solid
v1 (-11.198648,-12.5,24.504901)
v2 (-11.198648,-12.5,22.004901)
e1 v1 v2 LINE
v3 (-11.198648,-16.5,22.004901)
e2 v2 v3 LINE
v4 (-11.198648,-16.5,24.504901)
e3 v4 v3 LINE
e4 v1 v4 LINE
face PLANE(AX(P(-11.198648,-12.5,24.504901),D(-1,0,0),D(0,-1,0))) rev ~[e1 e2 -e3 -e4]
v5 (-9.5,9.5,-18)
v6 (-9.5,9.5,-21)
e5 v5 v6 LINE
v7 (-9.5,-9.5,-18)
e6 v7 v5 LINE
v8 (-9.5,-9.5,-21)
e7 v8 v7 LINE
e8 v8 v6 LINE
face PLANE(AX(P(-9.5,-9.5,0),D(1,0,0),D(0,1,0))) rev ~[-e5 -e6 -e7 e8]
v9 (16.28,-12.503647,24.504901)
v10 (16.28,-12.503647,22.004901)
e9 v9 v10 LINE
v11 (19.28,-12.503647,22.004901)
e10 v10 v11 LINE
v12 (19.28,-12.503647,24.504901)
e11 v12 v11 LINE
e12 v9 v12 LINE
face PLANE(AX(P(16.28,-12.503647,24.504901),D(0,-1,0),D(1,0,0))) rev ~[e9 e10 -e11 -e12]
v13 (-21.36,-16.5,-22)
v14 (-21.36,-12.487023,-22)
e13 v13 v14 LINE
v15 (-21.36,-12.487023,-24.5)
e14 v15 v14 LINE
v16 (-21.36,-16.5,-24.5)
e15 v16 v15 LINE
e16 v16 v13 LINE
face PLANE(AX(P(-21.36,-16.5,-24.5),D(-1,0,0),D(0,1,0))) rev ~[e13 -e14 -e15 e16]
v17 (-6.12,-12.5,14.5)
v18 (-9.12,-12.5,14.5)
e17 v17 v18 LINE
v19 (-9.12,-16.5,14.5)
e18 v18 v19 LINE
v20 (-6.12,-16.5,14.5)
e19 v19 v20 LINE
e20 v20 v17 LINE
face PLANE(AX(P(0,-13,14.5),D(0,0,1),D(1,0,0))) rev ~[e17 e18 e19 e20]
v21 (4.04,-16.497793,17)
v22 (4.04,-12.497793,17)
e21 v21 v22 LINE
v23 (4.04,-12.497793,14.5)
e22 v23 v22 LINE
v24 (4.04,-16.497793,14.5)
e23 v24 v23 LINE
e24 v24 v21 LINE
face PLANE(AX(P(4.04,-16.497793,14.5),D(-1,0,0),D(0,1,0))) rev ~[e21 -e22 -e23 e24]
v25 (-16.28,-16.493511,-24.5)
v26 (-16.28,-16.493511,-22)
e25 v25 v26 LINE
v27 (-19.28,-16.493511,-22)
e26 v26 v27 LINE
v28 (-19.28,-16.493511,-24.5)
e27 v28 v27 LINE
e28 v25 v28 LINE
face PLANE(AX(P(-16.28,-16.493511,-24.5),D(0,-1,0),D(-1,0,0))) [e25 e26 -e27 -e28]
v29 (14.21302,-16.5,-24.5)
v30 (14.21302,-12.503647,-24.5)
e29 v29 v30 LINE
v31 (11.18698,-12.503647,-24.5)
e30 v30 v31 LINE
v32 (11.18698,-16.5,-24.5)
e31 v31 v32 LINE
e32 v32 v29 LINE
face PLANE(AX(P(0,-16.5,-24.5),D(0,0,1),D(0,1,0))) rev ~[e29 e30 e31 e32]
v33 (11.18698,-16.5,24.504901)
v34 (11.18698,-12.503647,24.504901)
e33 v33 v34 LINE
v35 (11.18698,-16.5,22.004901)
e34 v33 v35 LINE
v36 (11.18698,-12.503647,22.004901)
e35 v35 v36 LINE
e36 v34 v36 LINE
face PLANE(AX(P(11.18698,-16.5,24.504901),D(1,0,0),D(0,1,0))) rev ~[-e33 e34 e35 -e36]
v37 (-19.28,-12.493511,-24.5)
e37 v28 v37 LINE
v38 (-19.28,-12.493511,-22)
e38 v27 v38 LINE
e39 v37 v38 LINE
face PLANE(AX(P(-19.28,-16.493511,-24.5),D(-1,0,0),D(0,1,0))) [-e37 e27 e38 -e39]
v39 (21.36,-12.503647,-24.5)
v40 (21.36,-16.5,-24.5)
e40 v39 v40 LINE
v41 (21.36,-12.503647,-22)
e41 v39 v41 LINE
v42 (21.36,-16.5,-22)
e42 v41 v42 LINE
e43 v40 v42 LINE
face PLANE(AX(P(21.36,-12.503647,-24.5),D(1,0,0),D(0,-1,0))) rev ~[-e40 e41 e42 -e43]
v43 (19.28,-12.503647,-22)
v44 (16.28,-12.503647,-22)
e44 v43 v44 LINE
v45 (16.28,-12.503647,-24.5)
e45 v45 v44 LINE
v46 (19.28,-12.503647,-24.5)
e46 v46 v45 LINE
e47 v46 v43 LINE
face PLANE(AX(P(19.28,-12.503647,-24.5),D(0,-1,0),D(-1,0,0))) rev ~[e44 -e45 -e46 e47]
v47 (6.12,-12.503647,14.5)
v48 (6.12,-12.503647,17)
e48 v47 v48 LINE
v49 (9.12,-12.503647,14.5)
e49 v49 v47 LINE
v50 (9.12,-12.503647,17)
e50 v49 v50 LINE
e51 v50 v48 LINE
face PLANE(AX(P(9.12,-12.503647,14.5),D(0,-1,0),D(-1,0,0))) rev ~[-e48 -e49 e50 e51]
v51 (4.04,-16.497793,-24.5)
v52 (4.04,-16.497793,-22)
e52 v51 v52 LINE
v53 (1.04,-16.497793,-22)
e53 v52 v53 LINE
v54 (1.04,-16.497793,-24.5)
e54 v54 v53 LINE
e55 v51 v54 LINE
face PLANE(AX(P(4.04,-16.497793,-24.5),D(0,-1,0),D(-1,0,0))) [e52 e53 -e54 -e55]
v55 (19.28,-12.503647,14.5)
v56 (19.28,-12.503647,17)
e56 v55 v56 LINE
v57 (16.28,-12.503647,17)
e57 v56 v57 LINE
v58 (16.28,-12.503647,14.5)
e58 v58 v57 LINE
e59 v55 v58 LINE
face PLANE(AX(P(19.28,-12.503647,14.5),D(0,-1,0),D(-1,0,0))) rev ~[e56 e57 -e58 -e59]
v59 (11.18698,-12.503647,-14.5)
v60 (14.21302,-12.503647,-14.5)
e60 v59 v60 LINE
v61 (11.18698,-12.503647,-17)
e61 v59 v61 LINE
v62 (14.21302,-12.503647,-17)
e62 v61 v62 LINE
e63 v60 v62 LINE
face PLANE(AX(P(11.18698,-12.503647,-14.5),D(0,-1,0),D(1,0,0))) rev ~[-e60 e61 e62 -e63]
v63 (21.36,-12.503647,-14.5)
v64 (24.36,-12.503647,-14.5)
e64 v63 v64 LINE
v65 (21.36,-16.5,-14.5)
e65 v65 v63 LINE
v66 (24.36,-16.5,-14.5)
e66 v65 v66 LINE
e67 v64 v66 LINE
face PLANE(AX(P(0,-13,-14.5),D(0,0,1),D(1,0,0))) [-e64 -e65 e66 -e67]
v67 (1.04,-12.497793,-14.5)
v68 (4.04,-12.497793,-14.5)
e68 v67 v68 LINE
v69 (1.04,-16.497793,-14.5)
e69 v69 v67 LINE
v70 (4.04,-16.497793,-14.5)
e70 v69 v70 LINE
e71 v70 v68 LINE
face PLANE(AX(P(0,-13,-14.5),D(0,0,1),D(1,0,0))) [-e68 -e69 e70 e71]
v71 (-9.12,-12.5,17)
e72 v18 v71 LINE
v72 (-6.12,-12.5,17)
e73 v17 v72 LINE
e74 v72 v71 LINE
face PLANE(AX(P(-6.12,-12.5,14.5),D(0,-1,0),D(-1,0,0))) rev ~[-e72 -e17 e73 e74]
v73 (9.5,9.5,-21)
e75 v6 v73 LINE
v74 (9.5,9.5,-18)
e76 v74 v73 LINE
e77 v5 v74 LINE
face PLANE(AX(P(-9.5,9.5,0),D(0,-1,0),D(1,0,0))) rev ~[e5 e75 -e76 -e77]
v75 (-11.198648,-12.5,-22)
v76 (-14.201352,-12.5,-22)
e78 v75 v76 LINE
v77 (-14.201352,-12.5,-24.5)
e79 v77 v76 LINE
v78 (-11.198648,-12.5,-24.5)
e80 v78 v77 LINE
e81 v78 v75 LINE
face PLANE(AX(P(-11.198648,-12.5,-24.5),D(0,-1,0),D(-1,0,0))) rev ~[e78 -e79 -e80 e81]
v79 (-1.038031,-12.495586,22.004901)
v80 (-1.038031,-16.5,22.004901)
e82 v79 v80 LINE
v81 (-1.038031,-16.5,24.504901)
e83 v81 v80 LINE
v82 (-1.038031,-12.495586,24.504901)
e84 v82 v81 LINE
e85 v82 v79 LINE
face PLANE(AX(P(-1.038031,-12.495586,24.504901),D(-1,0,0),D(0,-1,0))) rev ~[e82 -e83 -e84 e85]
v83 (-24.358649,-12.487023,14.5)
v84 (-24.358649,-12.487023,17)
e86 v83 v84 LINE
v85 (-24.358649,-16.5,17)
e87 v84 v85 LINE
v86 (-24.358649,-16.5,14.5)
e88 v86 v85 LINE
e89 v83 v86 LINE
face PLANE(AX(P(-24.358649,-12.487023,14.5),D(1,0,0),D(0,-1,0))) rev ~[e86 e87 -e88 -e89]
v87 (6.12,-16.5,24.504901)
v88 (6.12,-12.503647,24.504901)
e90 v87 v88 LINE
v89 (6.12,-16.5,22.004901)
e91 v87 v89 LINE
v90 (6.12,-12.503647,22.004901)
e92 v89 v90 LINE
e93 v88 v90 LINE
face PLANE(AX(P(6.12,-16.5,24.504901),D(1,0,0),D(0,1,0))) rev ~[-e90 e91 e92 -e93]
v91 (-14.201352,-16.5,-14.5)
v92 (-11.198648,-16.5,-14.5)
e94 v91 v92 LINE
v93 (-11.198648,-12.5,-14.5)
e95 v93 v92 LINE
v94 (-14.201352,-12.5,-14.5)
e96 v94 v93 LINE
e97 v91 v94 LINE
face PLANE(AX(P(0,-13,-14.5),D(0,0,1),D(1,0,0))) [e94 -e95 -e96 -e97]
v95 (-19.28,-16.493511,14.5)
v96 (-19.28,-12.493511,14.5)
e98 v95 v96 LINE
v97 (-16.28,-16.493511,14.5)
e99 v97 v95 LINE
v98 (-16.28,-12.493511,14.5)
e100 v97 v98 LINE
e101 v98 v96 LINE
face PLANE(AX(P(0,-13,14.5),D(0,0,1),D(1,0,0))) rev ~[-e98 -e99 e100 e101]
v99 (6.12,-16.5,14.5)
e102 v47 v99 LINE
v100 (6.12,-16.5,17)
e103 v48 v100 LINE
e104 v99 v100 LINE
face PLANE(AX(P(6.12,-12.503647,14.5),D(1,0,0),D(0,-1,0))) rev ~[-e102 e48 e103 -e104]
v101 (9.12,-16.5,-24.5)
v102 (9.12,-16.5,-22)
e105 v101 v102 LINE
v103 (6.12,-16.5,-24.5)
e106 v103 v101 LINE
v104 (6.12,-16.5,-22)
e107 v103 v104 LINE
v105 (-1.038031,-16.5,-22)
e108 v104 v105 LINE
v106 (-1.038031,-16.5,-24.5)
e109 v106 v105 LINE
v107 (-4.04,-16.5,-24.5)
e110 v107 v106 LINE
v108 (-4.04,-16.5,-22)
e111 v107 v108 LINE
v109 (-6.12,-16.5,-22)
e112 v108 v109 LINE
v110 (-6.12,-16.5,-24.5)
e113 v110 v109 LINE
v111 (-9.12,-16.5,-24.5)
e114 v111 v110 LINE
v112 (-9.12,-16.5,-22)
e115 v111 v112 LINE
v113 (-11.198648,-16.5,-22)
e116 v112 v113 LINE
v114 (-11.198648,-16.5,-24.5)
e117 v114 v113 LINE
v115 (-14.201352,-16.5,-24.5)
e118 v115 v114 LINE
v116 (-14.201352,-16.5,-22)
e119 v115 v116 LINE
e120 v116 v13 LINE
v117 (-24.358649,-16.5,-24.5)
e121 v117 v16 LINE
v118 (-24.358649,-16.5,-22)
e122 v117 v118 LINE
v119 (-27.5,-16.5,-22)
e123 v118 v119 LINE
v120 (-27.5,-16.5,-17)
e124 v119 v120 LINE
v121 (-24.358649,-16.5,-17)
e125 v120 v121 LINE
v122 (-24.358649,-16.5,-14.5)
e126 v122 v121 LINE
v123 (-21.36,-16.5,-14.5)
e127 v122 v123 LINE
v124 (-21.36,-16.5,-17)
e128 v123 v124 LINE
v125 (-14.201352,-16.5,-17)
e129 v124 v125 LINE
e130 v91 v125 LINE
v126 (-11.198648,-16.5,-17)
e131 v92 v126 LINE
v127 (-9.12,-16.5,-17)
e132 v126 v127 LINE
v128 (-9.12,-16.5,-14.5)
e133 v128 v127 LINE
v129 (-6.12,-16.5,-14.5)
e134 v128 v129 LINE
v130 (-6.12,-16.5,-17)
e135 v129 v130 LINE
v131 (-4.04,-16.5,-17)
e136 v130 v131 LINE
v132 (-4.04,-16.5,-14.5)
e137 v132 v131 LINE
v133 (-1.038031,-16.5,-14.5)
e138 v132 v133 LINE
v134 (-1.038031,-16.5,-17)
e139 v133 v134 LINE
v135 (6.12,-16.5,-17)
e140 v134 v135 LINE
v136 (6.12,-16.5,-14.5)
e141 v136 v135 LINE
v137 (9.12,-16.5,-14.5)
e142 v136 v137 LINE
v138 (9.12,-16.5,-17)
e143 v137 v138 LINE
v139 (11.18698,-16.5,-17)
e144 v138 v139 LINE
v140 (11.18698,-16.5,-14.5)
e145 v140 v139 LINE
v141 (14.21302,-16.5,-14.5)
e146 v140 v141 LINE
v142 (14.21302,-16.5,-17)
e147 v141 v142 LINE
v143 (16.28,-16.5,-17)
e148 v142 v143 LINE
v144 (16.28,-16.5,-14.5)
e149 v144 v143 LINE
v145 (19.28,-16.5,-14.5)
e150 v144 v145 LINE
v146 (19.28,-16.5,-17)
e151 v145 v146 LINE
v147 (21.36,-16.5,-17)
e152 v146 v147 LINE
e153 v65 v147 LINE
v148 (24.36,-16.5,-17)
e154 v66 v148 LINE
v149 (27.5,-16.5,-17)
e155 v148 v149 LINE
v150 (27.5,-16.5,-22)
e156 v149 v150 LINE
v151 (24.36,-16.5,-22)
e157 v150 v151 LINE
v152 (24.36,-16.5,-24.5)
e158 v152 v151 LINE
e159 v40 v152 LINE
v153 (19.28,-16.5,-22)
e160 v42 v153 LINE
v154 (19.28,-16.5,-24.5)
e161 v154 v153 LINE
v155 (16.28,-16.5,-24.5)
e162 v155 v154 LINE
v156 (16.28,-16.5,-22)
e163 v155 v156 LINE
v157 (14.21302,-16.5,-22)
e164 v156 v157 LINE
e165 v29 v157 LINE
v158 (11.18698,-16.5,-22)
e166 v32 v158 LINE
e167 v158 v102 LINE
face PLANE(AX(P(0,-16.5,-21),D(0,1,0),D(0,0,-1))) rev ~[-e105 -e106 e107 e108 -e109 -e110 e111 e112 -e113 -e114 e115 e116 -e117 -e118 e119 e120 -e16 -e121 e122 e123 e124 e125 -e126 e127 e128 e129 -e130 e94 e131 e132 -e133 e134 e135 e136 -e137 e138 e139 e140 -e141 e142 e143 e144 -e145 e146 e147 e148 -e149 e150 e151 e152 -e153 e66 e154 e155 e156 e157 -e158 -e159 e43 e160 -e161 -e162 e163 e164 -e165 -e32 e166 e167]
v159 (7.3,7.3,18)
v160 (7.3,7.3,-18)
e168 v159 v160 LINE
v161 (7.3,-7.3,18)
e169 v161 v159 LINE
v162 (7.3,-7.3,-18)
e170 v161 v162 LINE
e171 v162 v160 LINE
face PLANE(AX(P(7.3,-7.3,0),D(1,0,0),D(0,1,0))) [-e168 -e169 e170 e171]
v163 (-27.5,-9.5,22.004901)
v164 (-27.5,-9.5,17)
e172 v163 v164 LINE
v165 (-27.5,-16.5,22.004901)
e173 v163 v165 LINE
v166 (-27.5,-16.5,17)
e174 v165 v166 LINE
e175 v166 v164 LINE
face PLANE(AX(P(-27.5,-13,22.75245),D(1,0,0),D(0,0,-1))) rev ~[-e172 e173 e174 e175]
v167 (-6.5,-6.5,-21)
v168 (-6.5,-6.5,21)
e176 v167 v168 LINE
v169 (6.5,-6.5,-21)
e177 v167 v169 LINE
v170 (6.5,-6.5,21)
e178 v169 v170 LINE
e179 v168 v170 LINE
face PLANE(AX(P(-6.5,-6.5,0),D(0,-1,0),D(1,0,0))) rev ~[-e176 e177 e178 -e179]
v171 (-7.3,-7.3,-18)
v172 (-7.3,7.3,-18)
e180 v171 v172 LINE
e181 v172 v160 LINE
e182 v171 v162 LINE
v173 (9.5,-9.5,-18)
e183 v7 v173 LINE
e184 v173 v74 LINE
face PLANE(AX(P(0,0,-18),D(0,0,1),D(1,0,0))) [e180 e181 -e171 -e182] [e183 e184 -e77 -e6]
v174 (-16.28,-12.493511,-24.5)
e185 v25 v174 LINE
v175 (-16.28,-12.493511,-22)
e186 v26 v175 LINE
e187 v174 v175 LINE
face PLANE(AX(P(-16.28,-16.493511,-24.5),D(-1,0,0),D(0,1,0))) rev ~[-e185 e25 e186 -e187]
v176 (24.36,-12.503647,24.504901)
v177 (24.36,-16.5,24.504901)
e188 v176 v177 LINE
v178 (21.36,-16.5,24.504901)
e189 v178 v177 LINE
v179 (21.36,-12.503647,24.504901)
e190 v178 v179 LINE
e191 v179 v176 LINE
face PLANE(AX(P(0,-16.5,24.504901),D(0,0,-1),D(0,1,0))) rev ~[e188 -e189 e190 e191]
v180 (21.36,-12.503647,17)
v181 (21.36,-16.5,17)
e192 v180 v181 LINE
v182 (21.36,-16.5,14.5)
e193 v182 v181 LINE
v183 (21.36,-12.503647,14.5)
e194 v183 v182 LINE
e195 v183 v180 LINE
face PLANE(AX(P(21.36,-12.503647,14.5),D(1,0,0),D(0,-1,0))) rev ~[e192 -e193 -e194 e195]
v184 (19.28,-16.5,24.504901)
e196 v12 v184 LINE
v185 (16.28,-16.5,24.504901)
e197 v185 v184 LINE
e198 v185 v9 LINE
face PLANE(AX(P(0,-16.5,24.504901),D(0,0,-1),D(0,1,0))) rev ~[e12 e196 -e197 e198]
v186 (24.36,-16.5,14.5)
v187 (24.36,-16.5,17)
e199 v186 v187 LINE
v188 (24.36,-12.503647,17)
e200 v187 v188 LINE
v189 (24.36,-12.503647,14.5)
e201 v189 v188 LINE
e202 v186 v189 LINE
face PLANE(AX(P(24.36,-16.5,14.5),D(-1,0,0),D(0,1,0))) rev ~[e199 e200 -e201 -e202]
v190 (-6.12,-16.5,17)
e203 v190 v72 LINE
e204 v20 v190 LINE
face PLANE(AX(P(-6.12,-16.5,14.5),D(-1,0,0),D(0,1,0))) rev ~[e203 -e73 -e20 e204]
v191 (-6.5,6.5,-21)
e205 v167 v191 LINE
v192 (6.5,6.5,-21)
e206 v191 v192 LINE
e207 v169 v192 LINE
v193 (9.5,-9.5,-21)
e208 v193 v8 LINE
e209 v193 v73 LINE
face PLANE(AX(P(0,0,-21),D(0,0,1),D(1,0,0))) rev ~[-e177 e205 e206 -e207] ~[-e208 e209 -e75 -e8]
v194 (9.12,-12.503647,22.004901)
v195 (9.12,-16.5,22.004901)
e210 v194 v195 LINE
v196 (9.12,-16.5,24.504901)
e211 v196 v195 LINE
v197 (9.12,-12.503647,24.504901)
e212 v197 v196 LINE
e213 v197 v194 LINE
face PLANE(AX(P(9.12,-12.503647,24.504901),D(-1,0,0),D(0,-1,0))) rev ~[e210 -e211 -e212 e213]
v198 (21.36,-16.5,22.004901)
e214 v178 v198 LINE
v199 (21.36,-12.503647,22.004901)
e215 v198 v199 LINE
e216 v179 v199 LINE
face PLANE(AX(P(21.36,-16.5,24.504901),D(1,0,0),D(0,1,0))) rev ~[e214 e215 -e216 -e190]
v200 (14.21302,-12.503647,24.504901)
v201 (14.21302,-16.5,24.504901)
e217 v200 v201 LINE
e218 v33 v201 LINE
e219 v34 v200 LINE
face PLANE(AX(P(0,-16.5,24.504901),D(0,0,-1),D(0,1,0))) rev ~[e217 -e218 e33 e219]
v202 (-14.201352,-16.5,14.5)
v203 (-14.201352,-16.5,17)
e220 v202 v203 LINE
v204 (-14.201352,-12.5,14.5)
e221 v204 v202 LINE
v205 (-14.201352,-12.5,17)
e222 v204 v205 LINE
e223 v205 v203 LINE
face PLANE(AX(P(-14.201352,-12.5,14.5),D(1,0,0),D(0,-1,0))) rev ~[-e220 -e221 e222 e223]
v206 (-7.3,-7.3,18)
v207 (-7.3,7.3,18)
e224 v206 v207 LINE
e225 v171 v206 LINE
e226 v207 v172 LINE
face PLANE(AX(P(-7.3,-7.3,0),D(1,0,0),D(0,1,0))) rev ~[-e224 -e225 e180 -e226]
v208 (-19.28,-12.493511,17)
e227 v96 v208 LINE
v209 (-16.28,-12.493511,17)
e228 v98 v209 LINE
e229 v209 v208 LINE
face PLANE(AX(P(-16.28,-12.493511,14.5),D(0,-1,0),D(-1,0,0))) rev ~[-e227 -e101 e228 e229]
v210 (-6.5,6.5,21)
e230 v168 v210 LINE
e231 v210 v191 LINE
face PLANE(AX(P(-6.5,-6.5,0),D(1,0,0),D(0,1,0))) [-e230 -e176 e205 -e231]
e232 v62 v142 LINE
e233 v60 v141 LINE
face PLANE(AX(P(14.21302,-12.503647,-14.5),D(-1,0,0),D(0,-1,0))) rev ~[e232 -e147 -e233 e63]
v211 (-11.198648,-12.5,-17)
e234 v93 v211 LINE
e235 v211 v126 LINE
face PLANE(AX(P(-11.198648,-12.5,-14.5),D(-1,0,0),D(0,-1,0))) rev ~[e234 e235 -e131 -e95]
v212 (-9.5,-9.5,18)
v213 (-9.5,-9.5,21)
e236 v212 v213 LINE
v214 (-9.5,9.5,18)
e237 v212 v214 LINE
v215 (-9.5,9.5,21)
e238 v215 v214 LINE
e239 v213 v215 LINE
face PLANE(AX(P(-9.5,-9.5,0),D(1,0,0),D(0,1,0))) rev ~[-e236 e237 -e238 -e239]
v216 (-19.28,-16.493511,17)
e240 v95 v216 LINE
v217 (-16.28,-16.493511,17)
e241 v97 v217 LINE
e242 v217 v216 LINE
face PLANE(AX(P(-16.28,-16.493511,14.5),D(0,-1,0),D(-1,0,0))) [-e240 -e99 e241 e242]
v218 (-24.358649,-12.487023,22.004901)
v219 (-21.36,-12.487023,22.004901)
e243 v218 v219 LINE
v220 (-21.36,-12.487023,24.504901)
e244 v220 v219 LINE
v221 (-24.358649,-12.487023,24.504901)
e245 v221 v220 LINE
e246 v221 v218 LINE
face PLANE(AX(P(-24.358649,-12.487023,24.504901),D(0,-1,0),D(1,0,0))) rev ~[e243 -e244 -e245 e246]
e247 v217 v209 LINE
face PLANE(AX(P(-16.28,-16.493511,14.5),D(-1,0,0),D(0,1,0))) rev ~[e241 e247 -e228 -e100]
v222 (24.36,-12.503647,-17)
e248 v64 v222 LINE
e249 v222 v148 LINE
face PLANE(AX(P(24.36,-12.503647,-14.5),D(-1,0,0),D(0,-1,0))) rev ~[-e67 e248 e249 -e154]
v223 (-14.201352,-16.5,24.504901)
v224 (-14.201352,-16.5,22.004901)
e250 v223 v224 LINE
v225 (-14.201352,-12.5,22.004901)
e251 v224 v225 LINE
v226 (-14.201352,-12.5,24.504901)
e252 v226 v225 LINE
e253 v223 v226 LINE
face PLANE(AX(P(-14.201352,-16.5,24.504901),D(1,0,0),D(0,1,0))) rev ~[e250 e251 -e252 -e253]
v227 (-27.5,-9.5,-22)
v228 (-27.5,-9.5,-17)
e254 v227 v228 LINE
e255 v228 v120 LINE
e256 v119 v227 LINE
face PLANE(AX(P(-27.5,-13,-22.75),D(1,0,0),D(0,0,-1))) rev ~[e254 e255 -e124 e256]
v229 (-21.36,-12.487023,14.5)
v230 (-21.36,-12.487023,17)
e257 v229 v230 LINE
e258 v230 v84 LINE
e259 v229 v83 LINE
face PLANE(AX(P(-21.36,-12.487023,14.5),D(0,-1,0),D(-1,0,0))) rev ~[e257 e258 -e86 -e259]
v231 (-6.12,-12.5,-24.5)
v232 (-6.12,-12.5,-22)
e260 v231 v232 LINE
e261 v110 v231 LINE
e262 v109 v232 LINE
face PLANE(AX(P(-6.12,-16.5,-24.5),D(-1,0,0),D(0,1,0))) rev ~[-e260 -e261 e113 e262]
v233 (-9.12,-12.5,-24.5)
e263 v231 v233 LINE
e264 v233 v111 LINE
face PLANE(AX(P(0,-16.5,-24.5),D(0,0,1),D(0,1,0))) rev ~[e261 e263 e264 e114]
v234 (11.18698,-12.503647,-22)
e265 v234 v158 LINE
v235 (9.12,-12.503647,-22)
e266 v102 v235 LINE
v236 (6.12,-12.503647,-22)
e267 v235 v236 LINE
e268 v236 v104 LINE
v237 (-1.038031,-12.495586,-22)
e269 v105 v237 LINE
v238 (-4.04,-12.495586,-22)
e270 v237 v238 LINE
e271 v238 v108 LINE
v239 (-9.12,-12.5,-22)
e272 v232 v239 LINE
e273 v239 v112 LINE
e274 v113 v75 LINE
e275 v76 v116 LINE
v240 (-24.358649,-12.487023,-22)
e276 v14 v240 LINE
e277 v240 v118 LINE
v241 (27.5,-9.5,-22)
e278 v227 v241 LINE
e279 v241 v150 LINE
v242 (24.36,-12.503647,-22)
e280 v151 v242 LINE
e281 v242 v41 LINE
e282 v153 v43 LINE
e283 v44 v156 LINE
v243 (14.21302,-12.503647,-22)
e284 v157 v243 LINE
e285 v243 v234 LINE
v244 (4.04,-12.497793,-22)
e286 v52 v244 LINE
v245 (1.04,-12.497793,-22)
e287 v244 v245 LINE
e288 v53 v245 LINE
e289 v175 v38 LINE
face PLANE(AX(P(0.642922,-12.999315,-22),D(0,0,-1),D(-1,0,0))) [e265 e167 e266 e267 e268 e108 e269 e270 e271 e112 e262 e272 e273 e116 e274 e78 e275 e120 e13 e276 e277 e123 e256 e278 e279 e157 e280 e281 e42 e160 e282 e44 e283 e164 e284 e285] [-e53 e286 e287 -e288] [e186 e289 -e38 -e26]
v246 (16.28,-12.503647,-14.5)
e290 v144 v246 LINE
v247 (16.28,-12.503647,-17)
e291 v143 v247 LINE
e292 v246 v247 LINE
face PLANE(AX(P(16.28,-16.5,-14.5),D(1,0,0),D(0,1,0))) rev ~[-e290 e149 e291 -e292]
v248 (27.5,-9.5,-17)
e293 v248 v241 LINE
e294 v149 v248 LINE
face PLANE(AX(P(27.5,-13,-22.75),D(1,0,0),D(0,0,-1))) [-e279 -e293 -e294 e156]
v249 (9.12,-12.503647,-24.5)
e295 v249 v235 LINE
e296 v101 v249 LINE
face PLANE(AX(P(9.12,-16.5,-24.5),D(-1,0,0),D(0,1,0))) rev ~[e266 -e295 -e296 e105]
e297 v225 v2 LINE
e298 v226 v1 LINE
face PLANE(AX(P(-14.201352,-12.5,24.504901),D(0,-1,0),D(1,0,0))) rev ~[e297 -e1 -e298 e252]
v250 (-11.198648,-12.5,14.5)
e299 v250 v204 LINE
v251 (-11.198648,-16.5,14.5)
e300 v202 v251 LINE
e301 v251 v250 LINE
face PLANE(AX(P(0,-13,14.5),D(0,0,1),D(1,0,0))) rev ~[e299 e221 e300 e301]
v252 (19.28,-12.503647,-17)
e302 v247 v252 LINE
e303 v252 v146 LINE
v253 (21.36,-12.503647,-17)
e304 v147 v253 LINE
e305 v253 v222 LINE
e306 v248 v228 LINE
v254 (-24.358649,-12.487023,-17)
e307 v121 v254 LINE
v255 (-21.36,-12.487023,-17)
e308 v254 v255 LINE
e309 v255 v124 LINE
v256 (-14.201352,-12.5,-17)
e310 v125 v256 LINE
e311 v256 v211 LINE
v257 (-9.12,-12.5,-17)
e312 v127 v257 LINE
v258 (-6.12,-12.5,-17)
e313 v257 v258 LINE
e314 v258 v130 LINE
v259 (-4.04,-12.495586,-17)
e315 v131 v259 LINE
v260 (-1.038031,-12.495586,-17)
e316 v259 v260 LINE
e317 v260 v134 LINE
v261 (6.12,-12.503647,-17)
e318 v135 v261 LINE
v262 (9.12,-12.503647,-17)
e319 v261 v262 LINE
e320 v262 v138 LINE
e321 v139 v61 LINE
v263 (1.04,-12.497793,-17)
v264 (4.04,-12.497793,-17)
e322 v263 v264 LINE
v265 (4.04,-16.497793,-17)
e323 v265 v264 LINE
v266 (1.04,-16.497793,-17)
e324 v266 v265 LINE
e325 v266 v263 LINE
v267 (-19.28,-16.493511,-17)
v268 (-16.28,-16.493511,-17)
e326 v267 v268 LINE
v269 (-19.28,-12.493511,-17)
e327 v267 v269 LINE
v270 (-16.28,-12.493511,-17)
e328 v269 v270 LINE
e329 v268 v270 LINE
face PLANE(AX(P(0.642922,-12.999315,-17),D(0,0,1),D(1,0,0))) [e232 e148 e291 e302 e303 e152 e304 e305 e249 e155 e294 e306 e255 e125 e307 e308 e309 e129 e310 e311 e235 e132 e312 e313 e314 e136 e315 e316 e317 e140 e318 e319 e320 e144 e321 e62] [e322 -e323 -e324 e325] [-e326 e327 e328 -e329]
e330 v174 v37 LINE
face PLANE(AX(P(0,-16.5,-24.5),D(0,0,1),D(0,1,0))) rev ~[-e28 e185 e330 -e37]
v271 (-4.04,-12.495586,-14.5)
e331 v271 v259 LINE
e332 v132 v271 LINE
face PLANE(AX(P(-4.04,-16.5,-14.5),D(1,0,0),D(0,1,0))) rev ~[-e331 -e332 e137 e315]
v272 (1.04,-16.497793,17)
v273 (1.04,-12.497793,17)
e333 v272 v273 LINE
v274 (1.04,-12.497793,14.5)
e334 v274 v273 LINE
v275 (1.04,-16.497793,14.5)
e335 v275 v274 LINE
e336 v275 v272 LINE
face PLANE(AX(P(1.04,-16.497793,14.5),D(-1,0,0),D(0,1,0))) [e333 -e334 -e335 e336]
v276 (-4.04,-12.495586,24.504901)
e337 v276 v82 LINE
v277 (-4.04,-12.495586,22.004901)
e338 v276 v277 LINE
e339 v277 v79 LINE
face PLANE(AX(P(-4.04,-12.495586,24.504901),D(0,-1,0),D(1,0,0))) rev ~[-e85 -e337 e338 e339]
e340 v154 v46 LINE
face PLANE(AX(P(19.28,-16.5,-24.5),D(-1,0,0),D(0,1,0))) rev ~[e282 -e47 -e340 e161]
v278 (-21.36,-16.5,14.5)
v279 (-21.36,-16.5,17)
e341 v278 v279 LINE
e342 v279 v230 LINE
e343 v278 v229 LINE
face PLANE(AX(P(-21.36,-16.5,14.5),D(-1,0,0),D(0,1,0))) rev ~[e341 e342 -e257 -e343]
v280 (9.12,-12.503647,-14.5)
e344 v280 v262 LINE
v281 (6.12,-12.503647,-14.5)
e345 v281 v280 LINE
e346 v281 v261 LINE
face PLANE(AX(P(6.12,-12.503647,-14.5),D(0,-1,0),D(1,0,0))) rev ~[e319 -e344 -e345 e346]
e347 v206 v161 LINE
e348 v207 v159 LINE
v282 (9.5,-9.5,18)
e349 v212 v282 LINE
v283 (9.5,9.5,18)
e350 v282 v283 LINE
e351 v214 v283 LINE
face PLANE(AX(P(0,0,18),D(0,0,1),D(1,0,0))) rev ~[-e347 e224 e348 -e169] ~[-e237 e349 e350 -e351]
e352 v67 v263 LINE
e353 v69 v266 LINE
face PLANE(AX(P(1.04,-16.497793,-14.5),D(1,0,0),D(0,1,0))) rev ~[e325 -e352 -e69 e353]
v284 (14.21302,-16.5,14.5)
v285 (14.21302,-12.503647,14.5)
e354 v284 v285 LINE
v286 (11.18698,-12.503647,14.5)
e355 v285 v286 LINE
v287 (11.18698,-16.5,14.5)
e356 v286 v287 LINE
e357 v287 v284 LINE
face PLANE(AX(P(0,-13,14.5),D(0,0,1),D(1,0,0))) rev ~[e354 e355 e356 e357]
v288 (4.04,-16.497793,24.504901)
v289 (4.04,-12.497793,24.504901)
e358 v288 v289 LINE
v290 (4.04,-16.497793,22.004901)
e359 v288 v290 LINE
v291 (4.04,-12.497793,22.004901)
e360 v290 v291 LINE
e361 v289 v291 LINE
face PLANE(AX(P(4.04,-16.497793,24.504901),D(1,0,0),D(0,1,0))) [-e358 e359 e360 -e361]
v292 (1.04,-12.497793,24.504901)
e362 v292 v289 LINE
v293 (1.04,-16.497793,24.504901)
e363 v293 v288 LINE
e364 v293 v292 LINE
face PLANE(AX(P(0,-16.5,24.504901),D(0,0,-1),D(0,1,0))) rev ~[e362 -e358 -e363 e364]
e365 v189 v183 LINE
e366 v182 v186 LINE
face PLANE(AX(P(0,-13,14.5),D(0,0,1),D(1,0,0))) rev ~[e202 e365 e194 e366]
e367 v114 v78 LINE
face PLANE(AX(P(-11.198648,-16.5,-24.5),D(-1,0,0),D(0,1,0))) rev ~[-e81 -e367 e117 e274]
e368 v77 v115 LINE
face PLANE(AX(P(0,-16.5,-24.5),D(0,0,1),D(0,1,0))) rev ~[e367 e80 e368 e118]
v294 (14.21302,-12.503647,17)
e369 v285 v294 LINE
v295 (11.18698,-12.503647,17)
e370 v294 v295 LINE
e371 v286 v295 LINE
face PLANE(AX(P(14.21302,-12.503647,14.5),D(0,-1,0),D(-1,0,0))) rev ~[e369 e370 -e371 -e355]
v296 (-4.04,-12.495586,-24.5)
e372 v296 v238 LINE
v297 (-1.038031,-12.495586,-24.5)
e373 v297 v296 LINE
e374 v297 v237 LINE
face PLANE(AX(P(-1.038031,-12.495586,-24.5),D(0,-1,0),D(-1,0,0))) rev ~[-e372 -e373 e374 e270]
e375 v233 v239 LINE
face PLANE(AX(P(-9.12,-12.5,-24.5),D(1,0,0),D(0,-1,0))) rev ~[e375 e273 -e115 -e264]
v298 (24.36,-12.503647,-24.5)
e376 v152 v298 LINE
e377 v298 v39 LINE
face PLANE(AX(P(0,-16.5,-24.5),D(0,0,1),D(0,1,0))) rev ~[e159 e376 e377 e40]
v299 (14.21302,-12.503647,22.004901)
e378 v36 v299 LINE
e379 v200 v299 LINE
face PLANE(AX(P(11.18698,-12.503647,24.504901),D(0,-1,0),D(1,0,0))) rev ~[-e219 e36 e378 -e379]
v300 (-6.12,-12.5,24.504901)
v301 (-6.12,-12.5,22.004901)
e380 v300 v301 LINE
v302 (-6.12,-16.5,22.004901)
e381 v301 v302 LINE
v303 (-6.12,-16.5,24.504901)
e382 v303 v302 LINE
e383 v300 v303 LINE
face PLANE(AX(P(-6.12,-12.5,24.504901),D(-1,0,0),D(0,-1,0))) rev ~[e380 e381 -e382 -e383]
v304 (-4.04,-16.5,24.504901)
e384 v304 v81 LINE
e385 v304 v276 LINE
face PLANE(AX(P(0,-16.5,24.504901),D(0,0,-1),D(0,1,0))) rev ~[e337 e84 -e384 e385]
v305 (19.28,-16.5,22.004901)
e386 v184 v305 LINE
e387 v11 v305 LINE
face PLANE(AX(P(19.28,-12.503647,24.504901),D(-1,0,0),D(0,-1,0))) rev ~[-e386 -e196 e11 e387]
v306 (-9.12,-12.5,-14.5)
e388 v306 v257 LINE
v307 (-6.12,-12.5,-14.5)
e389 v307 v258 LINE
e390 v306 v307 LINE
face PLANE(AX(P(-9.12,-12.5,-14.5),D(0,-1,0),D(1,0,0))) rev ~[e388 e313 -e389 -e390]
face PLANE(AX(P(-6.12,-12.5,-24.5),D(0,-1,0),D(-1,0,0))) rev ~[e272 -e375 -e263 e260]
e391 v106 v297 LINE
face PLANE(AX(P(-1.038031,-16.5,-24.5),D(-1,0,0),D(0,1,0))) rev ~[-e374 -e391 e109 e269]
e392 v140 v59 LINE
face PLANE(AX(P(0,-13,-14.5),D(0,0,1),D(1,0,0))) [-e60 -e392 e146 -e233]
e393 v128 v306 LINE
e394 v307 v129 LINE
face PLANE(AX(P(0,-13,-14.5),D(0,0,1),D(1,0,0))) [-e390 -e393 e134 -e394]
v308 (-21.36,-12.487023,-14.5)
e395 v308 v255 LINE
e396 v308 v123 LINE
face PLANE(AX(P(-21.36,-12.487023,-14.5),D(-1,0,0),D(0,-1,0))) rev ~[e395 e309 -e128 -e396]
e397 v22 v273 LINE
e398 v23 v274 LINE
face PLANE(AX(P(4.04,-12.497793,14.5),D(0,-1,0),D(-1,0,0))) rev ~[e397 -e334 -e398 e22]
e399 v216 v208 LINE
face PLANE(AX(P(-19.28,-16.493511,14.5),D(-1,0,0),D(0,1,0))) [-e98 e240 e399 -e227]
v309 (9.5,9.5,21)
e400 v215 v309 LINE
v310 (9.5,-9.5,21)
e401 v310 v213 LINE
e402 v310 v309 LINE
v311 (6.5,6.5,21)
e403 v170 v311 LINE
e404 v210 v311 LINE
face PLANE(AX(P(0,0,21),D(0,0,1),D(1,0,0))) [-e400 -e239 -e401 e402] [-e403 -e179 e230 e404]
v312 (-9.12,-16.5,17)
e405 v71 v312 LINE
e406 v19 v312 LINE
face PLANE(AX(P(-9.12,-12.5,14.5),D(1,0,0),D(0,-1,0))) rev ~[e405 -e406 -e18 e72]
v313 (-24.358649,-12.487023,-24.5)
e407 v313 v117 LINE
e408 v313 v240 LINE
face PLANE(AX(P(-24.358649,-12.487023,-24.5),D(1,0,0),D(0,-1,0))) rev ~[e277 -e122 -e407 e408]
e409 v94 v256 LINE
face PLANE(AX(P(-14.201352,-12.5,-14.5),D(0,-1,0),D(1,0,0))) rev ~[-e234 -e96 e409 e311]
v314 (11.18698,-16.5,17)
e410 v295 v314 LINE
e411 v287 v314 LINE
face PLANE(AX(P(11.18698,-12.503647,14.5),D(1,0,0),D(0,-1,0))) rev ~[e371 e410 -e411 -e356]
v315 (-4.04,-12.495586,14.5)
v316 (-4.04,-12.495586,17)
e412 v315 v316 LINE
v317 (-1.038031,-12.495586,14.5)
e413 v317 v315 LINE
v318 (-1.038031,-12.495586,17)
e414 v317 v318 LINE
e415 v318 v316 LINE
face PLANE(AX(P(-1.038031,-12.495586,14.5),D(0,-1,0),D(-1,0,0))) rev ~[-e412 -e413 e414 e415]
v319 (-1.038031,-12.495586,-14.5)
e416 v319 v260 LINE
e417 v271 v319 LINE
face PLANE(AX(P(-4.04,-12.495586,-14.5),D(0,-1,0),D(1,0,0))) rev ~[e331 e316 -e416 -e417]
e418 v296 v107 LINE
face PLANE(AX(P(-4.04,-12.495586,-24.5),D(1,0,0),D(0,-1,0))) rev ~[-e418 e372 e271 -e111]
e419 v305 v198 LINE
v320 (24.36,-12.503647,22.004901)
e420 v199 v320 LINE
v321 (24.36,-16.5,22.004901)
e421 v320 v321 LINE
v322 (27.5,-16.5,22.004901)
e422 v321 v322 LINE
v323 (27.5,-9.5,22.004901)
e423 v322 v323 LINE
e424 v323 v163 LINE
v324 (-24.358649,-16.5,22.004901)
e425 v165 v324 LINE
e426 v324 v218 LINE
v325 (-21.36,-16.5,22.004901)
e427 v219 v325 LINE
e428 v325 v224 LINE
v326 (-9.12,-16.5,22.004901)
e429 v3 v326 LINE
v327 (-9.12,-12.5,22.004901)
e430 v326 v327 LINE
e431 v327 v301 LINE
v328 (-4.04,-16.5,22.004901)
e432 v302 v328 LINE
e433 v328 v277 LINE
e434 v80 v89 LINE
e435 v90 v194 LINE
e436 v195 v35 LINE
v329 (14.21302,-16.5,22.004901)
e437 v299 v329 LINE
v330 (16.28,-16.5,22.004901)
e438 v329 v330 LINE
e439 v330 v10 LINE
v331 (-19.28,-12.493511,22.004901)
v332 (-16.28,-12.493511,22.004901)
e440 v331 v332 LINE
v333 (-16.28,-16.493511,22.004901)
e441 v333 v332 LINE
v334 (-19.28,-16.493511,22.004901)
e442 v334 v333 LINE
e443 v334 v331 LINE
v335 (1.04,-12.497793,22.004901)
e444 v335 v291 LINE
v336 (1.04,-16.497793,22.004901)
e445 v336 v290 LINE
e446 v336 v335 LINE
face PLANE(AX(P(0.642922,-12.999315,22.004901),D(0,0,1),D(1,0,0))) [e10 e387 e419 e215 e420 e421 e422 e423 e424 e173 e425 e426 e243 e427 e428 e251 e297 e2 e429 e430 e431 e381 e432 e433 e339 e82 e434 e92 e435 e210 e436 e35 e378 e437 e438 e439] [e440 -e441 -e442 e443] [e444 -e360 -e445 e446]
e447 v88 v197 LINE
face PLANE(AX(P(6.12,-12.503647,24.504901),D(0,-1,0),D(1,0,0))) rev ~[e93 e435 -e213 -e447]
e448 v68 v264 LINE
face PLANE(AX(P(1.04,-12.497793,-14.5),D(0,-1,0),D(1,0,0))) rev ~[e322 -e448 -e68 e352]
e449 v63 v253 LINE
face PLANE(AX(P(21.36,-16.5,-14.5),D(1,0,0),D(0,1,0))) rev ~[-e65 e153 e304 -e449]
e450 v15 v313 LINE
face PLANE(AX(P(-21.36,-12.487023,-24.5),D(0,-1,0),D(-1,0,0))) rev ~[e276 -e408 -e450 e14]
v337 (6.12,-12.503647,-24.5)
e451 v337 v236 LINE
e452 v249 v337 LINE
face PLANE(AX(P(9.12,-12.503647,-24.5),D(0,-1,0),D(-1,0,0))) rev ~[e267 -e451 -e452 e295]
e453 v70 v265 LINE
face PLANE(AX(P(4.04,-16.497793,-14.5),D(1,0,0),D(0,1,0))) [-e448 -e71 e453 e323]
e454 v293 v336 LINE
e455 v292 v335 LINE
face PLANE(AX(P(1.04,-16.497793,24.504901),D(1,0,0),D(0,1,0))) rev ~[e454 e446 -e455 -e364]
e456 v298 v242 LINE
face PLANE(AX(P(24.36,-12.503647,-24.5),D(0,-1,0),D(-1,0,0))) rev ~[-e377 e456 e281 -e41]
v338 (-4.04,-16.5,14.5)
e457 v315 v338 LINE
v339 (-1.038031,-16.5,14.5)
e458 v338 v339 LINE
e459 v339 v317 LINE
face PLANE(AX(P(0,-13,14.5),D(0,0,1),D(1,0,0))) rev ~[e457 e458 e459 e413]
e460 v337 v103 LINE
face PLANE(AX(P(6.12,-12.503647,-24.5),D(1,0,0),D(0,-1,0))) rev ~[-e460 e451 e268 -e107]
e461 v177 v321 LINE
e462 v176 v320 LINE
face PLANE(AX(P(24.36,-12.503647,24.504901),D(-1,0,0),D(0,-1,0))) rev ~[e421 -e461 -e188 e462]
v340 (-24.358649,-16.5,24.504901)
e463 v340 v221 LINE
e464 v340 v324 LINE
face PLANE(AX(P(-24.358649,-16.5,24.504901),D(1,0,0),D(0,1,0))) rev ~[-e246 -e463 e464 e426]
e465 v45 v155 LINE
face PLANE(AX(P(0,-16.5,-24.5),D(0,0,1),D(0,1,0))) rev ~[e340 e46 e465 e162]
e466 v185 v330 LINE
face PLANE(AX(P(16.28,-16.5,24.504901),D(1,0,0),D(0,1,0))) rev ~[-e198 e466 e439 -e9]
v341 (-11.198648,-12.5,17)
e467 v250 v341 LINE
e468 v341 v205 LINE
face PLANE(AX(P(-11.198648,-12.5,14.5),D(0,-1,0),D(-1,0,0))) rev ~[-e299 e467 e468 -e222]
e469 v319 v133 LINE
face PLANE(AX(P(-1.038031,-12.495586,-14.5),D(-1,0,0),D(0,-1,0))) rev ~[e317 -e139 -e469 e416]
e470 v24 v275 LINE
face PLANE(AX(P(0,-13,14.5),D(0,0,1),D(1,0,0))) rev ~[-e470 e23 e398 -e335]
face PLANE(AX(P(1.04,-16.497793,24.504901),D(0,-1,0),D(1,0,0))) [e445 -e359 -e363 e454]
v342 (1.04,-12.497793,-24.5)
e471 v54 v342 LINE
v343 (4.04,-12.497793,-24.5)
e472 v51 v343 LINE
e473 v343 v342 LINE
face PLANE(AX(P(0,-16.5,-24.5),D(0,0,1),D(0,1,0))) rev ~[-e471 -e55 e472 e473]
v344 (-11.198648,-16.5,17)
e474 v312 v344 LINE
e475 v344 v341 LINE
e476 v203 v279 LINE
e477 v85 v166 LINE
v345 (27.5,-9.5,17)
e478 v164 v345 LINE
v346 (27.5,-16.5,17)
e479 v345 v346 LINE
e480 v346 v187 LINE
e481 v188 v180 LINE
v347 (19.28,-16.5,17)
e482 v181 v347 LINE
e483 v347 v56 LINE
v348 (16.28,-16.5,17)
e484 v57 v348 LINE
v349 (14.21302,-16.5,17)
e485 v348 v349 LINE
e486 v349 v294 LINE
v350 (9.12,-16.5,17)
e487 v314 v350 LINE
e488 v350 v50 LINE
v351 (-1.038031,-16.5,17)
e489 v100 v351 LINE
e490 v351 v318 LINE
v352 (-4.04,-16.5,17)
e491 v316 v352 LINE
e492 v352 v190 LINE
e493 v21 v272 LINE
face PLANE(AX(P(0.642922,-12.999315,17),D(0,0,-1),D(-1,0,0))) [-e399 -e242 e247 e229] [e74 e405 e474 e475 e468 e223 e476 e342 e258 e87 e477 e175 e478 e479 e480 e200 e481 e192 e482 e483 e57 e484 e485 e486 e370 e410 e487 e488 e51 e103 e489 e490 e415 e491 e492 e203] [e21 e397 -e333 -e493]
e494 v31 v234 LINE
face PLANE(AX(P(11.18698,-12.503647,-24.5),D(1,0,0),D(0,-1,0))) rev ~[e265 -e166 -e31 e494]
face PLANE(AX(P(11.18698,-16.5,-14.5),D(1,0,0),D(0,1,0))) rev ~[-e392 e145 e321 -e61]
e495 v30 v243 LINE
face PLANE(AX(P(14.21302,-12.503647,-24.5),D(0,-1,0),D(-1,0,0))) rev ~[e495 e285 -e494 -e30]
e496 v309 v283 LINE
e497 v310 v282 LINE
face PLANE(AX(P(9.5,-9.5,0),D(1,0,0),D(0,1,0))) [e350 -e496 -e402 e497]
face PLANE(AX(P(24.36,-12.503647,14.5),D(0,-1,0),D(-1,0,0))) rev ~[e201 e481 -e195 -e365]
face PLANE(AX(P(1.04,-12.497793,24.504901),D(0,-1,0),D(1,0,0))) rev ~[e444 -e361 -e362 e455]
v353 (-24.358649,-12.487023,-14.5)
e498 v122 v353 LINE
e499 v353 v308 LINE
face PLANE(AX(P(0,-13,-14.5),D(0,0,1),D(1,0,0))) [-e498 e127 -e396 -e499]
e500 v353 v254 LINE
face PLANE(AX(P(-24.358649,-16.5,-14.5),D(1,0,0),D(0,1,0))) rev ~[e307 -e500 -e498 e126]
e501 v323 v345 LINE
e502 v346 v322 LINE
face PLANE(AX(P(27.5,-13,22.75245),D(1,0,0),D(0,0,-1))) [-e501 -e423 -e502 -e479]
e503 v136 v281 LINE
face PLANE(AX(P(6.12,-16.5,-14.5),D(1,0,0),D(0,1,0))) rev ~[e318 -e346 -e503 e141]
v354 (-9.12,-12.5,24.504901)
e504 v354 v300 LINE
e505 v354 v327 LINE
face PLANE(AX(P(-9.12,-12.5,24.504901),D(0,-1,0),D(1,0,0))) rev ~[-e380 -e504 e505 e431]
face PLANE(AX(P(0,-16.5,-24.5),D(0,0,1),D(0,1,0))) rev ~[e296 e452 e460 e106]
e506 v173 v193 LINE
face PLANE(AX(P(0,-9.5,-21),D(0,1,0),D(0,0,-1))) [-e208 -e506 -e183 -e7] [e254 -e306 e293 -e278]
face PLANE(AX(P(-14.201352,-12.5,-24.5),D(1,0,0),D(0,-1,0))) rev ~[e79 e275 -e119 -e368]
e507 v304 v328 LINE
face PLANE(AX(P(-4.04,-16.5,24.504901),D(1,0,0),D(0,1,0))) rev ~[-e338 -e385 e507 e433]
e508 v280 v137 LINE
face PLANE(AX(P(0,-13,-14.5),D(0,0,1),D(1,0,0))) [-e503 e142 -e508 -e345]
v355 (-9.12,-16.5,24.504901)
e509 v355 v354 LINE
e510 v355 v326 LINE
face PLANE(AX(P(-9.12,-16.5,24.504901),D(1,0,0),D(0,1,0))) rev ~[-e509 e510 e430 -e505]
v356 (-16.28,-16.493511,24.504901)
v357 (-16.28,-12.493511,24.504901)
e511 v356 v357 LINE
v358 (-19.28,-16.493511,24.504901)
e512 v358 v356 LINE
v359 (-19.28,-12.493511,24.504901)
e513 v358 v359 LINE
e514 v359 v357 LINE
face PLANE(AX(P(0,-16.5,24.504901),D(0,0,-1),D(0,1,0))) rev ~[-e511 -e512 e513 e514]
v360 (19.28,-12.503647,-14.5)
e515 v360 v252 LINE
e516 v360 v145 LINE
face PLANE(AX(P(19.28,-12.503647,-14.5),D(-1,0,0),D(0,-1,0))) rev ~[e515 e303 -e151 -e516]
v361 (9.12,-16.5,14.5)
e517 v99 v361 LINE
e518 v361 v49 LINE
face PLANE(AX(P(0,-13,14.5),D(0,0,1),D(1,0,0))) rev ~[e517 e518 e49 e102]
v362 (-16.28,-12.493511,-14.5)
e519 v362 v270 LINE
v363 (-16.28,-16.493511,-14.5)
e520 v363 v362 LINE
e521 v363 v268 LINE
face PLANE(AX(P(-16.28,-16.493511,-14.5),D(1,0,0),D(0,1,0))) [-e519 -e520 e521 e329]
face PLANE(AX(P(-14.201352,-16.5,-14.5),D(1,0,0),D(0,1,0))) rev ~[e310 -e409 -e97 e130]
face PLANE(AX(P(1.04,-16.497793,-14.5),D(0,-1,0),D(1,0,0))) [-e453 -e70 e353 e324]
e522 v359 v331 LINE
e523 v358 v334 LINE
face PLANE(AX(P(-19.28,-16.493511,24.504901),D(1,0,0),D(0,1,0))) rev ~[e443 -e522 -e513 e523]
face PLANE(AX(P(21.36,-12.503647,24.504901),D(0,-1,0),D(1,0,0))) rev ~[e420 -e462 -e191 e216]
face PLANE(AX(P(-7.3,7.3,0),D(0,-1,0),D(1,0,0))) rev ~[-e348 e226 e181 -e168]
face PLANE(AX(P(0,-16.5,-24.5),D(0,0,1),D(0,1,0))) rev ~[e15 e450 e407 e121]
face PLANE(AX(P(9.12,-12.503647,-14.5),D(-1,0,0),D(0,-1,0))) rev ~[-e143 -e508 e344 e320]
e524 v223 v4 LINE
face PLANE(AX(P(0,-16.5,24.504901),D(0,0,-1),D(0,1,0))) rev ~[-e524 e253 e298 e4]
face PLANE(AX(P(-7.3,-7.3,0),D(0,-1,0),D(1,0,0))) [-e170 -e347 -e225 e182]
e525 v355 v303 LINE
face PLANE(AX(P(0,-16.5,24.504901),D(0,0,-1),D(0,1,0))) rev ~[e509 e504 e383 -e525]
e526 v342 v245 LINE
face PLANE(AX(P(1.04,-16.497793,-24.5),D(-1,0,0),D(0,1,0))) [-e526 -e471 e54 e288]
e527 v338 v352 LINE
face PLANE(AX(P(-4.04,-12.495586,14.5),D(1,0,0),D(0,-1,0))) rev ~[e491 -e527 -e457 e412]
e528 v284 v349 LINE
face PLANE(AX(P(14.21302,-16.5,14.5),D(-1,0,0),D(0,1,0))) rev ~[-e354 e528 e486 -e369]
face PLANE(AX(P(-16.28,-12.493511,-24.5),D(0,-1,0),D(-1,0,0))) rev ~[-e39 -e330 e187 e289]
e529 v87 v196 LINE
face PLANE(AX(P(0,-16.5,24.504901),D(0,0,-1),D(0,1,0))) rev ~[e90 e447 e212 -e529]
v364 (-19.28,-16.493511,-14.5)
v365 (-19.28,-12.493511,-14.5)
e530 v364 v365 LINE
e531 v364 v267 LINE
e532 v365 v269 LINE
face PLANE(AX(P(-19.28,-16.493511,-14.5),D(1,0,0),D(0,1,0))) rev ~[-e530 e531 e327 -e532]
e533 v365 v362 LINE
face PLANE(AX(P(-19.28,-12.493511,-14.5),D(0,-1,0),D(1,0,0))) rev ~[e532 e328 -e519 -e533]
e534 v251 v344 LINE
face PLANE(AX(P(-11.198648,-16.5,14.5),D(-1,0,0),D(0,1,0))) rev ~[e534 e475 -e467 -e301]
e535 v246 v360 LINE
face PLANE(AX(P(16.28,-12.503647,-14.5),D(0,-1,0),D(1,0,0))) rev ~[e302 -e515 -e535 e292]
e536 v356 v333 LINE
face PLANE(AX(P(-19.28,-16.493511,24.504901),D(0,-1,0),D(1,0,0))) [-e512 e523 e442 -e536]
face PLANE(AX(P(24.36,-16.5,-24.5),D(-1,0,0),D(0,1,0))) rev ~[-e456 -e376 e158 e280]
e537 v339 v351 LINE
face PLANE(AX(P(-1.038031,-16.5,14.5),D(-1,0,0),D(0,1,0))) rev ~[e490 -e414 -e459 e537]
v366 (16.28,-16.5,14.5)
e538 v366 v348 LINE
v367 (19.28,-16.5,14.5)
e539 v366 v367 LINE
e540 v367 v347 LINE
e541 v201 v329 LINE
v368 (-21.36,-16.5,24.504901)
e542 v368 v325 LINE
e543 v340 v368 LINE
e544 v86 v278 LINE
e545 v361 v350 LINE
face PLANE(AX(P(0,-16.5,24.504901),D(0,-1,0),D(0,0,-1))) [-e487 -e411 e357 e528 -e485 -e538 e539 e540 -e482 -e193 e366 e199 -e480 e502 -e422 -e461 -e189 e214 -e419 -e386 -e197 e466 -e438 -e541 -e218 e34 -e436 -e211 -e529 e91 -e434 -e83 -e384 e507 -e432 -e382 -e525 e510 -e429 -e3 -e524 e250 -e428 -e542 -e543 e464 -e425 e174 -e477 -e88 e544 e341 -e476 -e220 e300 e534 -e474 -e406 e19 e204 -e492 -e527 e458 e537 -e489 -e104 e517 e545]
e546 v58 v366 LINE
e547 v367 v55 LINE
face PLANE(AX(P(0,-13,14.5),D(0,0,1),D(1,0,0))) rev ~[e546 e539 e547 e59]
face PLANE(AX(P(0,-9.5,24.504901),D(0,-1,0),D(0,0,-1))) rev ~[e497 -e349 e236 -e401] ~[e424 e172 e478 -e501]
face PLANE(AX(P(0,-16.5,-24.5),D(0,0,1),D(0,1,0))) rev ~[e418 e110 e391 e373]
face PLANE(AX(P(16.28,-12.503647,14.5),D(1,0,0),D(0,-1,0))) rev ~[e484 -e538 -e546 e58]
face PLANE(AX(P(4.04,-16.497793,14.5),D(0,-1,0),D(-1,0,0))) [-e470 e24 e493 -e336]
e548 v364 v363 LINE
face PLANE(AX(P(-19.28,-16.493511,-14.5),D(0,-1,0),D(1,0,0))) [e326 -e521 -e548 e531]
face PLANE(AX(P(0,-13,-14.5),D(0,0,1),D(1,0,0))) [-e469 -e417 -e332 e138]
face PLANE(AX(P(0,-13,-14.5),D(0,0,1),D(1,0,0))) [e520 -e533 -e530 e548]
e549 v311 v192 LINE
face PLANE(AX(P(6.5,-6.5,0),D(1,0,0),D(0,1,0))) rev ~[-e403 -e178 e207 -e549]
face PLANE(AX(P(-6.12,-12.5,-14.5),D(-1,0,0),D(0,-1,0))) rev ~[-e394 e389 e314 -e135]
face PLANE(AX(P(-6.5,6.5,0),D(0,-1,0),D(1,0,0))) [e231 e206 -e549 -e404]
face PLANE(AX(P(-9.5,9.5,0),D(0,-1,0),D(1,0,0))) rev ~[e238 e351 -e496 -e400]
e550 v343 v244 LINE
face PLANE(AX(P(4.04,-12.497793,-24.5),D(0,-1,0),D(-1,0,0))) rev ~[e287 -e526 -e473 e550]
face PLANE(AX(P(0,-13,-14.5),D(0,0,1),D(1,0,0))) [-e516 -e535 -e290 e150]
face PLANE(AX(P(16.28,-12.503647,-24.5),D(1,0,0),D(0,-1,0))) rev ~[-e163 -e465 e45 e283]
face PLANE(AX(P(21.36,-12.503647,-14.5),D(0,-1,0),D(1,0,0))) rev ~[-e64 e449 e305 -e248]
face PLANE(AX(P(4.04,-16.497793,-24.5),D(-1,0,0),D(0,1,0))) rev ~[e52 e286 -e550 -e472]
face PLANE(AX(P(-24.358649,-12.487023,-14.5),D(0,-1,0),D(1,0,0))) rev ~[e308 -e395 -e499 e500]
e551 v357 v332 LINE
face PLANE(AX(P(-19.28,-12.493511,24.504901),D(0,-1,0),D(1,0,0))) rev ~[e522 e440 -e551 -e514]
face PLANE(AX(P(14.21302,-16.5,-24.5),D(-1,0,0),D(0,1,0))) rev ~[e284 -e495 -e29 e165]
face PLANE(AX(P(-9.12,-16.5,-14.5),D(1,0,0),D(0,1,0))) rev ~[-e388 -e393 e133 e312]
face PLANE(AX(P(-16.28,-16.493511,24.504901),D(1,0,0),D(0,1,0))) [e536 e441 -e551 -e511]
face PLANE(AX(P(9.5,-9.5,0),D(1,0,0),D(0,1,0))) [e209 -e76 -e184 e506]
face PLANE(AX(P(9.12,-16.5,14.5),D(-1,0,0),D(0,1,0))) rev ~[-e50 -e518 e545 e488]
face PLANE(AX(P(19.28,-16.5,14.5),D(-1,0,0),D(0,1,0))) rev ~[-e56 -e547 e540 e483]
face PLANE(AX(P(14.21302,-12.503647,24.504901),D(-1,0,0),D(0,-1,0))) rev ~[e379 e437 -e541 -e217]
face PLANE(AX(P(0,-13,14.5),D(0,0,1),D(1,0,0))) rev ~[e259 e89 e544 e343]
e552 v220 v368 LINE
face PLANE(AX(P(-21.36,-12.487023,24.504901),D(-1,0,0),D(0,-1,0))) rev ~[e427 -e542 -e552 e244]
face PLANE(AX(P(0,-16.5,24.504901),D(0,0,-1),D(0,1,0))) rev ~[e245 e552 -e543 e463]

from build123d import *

# Parameters (mm, degrees)
EXTRUDE_1_DEPTH      = 21
SKETCH_1_3_W         = 13
SKETCH_1_3_H         = 13
CUT_EXTRUDE_1_DEPTH  = 21
SKETCH_1_12_W        = 19
SKETCH_1_12_H        = 19
SKETCH_1_12_W_2      = 14.6
SKETCH_1_12_H_2      = 14.6
SKETCH_1_12_W_3      = 13
SKETCH_1_12_H_3      = 13
CUT_EXTRUDE_6_DEPTH  = 18
CUT_EXTRUDE_7_DEPTH  = 14.5
SKETCH_4_W           = 3.504900739
SKETCH_4_H           = 7
SKETCH_4_W_2         = 3.5
EXTRUDE_2_DEPTH      = 27.5
SKETCH_5_W           = 3
SKETCH_5_H           = 4
CUT_EXTRUDE_8_DEPTH  = 2.5
SKETCH_7_W           = 3
SKETCH_7_H           = 4
CUT_EXTRUDE_9_DEPTH  = 2.5
SKETCH_9_W           = 3
SKETCH_9_H           = 4
CUT_EXTRUDE_10_DEPTH = 2.5
SKETCH_10_W          = 3
SKETCH_10_H          = 4
CUT_EXTRUDE_11_DEPTH = 2.5


with BuildPart() as part:
    # 草图1 → 凸台-拉伸1 (new, symmetric)
    with BuildSketch(Plane.XY):
        Polygon((9.5, 9.5), (-9.5, 9.5), (-9.5, -9.5), (-27.5, -9.5), (-27.5, -16.5), (27.5, -16.5), (27.5, -9.5), (9.5, -9.5), align=None)
    extrude(amount=EXTRUDE_1_DEPTH, both=True)

    # 草图1<3> → 切除-拉伸1 (cut, symmetric)
    with BuildSketch(Plane.XY):
        Rectangle(SKETCH_1_3_W, SKETCH_1_3_H)
    extrude(amount=CUT_EXTRUDE_1_DEPTH, both=True, mode=Mode.SUBTRACT)

    # 草图1<12> → 切除-拉伸6 (cut, symmetric)
    # profile 1 of 2: a face of its own
    with BuildSketch(Plane.XY):
        Rectangle(SKETCH_1_12_W, SKETCH_1_12_H)
        Rectangle(SKETCH_1_12_W_2, SKETCH_1_12_H_2, mode=Mode.SUBTRACT)
    # profile 2 of 2: a face of its own
    with BuildSketch(Plane.XY):
        Rectangle(SKETCH_1_12_W_3, SKETCH_1_12_H_3)
    extrude(amount=CUT_EXTRUDE_6_DEPTH, both=True, mode=Mode.SUBTRACT)

    # 草图1<13> → 切除-拉伸7 (cut, symmetric)
    with BuildSketch(Plane.XY):
        Polygon((9.5, -9.5), (-9.5, -9.5), (-27.5, -9.5), (-27.5, -16.5), (27.5, -16.5), (27.5, -9.5), align=None)
    extrude(amount=CUT_EXTRUDE_7_DEPTH, both=True, mode=Mode.SUBTRACT)

    # 草图4 → 凸台-拉伸2 (add, symmetric)
    with BuildSketch(Plane(origin=(0, 0, 0), x_dir=(0, 0, -1), z_dir=(1, 0, 0))):
        with Locations((-22.752450369, -13)):
            Rectangle(SKETCH_4_W, SKETCH_4_H)
        with Locations((22.75, -13)):
            Rectangle(SKETCH_4_W_2, SKETCH_4_H)
    extrude(amount=EXTRUDE_2_DEPTH, both=True)

    # 草图5 → 切除-拉伸8 (cut)
    with BuildSketch(Plane(origin=(0, 0, -24.5), x_dir=(-1, 0, 0), z_dir=(0, 0, -1))):
        Polygon((-19.28, -12.503647236), (-16.28, -12.503647236), (-16.28, -16.5), (-14.213019691, -16.5), (-14.213019691, -12.503647236), (-11.186980309, -12.503647236), (-11.186980309, -16.5), (-9.12, -16.5), (-9.12, -12.503647236), (-6.12, -12.503647236), (-6.12, -16.5), (1.038031299, -16.5), (1.038031299, -12.495586292), (4.04, -12.495586292), (4.04, -16.5), (6.12, -16.5), (6.12, -12.5), (9.12, -12.5), (9.12, -16.5), (11.198647667, -16.5), (11.198647667, -12.5), (14.201352333, -12.5), (14.201352333, -16.5), (21.36, -16.5), (21.36, -12.487022539), (24.35864906, -12.487022539), (24.35864906, -16.5), (27.5, -16.5), (27.5, -9.5), (-27.5, -9.5), (-27.5, -16.5), (-24.36, -16.5), (-24.36, -12.503647236), (-21.36, -12.503647236), (-21.36, -16.5), (-19.28, -16.5), align=None)
        with Locations((17.78, -14.493511269)):
            Rectangle(SKETCH_5_W, SKETCH_5_H, mode=Mode.SUBTRACT)
        with Locations((-2.54, -14.497793146)):
            Rectangle(SKETCH_5_W, SKETCH_5_H, mode=Mode.SUBTRACT)
    extrude(amount=-CUT_EXTRUDE_8_DEPTH, mode=Mode.SUBTRACT)

    # 草图7 → 切除-拉伸9 (cut)
    with BuildSketch(Plane.XY.offset(-14.5)):
        Polygon((24.36, -16.5), (27.5, -16.5), (27.5, -9.5), (-27.5, -9.5), (-27.5, -16.5), (-24.35864906, -16.5), (-24.35864906, -12.487022539), (-21.36, -12.487022539), (-21.36, -16.5), (-14.201352333, -16.5), (-14.201352333, -12.5), (-11.198647667, -12.5), (-11.198647667, -16.5), (-9.12, -16.5), (-9.12, -12.5), (-6.12, -12.5), (-6.12, -16.5), (-4.04, -16.5), (-4.04, -12.495586292), (-1.038031299, -12.495586292), (-1.038031299, -16.5), (6.12, -16.5), (6.12, -12.503647236), (9.12, -12.503647236), (9.12, -16.5), (11.186980309, -16.5), (11.186980309, -12.503647236), (14.213019691, -12.503647236), (14.213019691, -16.5), (16.28, -16.5), (16.28, -12.503647236), (19.28, -12.503647236), (19.28, -16.5), (21.36, -16.5), (21.36, -12.503647236), (24.36, -12.503647236), align=None)
        with Locations((-17.78, -14.493511269)):
            Rectangle(SKETCH_7_W, SKETCH_7_H, mode=Mode.SUBTRACT)
        with Locations((2.54, -14.497793146)):
            Rectangle(SKETCH_7_W, SKETCH_7_H, mode=Mode.SUBTRACT)
    extrude(amount=-CUT_EXTRUDE_9_DEPTH, mode=Mode.SUBTRACT)

    # 草图9 → 切除-拉伸10 (cut)
    with BuildSketch(Plane(origin=(0, 0, 14.5), x_dir=(-1, 0, 0), z_dir=(0, 0, -1))):
        Polygon((27.5, -9.5), (-27.5, -9.5), (-27.5, -16.5), (-24.36, -16.5), (-24.36, -12.503647236), (-21.36, -12.503647236), (-21.36, -16.5), (-19.28, -16.5), (-19.28, -12.503647236), (-16.28, -12.503647236), (-16.28, -16.5), (-14.213019691, -16.5), (-14.213019691, -12.503647236), (-11.186980309, -12.503647236), (-11.186980309, -16.5), (-9.12, -16.5), (-9.12, -12.503647236), (-6.12, -12.503647236), (-6.12, -16.5), (1.038031299, -16.5), (1.038031299, -12.495586292), (4.04, -12.495586292), (4.04, -16.5), (6.12, -16.5), (6.12, -12.5), (9.12, -12.5), (9.12, -16.5), (11.198647667, -16.5), (11.198647667, -12.5), (14.201352333, -12.5), (14.201352333, -16.5), (21.36, -16.5), (21.36, -12.487022539), (24.35864906, -12.487022539), (24.35864906, -16.5), (27.5, -16.5), align=None)
        with Locations((-2.54, -14.497793146)):
            Rectangle(SKETCH_9_W, SKETCH_9_H, mode=Mode.SUBTRACT)
        with Locations((17.78, -14.493511269)):
            Rectangle(SKETCH_9_W, SKETCH_9_H, mode=Mode.SUBTRACT)
    extrude(amount=-CUT_EXTRUDE_10_DEPTH, mode=Mode.SUBTRACT)

    # 草图10 → 切除-拉伸11 (cut)
    with BuildSketch(Plane.XY.offset(24.504900739)):
        Polygon((27.5, -9.5), (-27.5, -9.5), (-27.5, -16.5), (-24.35864906, -16.5), (-24.35864906, -12.487022539), (-21.36, -12.487022539), (-21.36, -16.5), (-14.201352333, -16.5), (-14.201352333, -12.5), (-11.198647667, -12.5), (-11.198647667, -16.5), (-9.12, -16.5), (-9.12, -12.5), (-6.12, -12.5), (-6.12, -16.5), (-4.04, -16.5), (-4.04, -12.495586292), (-1.038031299, -12.495586292), (-1.038031299, -16.5), (6.12, -16.5), (6.12, -12.503647236), (9.12, -12.503647236), (9.12, -16.5), (11.186980309, -16.5), (11.186980309, -12.503647236), (14.213019691, -12.503647236), (14.213019691, -16.5), (16.28, -16.5), (16.28, -12.503647236), (19.28, -12.503647236), (19.28, -16.5), (21.36, -16.5), (21.36, -12.503647236), (24.36, -12.503647236), (24.36, -16.5), (27.5, -16.5), align=None)
        with Locations((-17.78, -14.493511269)):
            Rectangle(SKETCH_10_W, SKETCH_10_H, mode=Mode.SUBTRACT)
        with Locations((2.54, -14.497793146)):
            Rectangle(SKETCH_10_W, SKETCH_10_H, mode=Mode.SUBTRACT)
    extrude(amount=-CUT_EXTRUDE_11_DEPTH, mode=Mode.SUBTRACT)


solid = part.part
